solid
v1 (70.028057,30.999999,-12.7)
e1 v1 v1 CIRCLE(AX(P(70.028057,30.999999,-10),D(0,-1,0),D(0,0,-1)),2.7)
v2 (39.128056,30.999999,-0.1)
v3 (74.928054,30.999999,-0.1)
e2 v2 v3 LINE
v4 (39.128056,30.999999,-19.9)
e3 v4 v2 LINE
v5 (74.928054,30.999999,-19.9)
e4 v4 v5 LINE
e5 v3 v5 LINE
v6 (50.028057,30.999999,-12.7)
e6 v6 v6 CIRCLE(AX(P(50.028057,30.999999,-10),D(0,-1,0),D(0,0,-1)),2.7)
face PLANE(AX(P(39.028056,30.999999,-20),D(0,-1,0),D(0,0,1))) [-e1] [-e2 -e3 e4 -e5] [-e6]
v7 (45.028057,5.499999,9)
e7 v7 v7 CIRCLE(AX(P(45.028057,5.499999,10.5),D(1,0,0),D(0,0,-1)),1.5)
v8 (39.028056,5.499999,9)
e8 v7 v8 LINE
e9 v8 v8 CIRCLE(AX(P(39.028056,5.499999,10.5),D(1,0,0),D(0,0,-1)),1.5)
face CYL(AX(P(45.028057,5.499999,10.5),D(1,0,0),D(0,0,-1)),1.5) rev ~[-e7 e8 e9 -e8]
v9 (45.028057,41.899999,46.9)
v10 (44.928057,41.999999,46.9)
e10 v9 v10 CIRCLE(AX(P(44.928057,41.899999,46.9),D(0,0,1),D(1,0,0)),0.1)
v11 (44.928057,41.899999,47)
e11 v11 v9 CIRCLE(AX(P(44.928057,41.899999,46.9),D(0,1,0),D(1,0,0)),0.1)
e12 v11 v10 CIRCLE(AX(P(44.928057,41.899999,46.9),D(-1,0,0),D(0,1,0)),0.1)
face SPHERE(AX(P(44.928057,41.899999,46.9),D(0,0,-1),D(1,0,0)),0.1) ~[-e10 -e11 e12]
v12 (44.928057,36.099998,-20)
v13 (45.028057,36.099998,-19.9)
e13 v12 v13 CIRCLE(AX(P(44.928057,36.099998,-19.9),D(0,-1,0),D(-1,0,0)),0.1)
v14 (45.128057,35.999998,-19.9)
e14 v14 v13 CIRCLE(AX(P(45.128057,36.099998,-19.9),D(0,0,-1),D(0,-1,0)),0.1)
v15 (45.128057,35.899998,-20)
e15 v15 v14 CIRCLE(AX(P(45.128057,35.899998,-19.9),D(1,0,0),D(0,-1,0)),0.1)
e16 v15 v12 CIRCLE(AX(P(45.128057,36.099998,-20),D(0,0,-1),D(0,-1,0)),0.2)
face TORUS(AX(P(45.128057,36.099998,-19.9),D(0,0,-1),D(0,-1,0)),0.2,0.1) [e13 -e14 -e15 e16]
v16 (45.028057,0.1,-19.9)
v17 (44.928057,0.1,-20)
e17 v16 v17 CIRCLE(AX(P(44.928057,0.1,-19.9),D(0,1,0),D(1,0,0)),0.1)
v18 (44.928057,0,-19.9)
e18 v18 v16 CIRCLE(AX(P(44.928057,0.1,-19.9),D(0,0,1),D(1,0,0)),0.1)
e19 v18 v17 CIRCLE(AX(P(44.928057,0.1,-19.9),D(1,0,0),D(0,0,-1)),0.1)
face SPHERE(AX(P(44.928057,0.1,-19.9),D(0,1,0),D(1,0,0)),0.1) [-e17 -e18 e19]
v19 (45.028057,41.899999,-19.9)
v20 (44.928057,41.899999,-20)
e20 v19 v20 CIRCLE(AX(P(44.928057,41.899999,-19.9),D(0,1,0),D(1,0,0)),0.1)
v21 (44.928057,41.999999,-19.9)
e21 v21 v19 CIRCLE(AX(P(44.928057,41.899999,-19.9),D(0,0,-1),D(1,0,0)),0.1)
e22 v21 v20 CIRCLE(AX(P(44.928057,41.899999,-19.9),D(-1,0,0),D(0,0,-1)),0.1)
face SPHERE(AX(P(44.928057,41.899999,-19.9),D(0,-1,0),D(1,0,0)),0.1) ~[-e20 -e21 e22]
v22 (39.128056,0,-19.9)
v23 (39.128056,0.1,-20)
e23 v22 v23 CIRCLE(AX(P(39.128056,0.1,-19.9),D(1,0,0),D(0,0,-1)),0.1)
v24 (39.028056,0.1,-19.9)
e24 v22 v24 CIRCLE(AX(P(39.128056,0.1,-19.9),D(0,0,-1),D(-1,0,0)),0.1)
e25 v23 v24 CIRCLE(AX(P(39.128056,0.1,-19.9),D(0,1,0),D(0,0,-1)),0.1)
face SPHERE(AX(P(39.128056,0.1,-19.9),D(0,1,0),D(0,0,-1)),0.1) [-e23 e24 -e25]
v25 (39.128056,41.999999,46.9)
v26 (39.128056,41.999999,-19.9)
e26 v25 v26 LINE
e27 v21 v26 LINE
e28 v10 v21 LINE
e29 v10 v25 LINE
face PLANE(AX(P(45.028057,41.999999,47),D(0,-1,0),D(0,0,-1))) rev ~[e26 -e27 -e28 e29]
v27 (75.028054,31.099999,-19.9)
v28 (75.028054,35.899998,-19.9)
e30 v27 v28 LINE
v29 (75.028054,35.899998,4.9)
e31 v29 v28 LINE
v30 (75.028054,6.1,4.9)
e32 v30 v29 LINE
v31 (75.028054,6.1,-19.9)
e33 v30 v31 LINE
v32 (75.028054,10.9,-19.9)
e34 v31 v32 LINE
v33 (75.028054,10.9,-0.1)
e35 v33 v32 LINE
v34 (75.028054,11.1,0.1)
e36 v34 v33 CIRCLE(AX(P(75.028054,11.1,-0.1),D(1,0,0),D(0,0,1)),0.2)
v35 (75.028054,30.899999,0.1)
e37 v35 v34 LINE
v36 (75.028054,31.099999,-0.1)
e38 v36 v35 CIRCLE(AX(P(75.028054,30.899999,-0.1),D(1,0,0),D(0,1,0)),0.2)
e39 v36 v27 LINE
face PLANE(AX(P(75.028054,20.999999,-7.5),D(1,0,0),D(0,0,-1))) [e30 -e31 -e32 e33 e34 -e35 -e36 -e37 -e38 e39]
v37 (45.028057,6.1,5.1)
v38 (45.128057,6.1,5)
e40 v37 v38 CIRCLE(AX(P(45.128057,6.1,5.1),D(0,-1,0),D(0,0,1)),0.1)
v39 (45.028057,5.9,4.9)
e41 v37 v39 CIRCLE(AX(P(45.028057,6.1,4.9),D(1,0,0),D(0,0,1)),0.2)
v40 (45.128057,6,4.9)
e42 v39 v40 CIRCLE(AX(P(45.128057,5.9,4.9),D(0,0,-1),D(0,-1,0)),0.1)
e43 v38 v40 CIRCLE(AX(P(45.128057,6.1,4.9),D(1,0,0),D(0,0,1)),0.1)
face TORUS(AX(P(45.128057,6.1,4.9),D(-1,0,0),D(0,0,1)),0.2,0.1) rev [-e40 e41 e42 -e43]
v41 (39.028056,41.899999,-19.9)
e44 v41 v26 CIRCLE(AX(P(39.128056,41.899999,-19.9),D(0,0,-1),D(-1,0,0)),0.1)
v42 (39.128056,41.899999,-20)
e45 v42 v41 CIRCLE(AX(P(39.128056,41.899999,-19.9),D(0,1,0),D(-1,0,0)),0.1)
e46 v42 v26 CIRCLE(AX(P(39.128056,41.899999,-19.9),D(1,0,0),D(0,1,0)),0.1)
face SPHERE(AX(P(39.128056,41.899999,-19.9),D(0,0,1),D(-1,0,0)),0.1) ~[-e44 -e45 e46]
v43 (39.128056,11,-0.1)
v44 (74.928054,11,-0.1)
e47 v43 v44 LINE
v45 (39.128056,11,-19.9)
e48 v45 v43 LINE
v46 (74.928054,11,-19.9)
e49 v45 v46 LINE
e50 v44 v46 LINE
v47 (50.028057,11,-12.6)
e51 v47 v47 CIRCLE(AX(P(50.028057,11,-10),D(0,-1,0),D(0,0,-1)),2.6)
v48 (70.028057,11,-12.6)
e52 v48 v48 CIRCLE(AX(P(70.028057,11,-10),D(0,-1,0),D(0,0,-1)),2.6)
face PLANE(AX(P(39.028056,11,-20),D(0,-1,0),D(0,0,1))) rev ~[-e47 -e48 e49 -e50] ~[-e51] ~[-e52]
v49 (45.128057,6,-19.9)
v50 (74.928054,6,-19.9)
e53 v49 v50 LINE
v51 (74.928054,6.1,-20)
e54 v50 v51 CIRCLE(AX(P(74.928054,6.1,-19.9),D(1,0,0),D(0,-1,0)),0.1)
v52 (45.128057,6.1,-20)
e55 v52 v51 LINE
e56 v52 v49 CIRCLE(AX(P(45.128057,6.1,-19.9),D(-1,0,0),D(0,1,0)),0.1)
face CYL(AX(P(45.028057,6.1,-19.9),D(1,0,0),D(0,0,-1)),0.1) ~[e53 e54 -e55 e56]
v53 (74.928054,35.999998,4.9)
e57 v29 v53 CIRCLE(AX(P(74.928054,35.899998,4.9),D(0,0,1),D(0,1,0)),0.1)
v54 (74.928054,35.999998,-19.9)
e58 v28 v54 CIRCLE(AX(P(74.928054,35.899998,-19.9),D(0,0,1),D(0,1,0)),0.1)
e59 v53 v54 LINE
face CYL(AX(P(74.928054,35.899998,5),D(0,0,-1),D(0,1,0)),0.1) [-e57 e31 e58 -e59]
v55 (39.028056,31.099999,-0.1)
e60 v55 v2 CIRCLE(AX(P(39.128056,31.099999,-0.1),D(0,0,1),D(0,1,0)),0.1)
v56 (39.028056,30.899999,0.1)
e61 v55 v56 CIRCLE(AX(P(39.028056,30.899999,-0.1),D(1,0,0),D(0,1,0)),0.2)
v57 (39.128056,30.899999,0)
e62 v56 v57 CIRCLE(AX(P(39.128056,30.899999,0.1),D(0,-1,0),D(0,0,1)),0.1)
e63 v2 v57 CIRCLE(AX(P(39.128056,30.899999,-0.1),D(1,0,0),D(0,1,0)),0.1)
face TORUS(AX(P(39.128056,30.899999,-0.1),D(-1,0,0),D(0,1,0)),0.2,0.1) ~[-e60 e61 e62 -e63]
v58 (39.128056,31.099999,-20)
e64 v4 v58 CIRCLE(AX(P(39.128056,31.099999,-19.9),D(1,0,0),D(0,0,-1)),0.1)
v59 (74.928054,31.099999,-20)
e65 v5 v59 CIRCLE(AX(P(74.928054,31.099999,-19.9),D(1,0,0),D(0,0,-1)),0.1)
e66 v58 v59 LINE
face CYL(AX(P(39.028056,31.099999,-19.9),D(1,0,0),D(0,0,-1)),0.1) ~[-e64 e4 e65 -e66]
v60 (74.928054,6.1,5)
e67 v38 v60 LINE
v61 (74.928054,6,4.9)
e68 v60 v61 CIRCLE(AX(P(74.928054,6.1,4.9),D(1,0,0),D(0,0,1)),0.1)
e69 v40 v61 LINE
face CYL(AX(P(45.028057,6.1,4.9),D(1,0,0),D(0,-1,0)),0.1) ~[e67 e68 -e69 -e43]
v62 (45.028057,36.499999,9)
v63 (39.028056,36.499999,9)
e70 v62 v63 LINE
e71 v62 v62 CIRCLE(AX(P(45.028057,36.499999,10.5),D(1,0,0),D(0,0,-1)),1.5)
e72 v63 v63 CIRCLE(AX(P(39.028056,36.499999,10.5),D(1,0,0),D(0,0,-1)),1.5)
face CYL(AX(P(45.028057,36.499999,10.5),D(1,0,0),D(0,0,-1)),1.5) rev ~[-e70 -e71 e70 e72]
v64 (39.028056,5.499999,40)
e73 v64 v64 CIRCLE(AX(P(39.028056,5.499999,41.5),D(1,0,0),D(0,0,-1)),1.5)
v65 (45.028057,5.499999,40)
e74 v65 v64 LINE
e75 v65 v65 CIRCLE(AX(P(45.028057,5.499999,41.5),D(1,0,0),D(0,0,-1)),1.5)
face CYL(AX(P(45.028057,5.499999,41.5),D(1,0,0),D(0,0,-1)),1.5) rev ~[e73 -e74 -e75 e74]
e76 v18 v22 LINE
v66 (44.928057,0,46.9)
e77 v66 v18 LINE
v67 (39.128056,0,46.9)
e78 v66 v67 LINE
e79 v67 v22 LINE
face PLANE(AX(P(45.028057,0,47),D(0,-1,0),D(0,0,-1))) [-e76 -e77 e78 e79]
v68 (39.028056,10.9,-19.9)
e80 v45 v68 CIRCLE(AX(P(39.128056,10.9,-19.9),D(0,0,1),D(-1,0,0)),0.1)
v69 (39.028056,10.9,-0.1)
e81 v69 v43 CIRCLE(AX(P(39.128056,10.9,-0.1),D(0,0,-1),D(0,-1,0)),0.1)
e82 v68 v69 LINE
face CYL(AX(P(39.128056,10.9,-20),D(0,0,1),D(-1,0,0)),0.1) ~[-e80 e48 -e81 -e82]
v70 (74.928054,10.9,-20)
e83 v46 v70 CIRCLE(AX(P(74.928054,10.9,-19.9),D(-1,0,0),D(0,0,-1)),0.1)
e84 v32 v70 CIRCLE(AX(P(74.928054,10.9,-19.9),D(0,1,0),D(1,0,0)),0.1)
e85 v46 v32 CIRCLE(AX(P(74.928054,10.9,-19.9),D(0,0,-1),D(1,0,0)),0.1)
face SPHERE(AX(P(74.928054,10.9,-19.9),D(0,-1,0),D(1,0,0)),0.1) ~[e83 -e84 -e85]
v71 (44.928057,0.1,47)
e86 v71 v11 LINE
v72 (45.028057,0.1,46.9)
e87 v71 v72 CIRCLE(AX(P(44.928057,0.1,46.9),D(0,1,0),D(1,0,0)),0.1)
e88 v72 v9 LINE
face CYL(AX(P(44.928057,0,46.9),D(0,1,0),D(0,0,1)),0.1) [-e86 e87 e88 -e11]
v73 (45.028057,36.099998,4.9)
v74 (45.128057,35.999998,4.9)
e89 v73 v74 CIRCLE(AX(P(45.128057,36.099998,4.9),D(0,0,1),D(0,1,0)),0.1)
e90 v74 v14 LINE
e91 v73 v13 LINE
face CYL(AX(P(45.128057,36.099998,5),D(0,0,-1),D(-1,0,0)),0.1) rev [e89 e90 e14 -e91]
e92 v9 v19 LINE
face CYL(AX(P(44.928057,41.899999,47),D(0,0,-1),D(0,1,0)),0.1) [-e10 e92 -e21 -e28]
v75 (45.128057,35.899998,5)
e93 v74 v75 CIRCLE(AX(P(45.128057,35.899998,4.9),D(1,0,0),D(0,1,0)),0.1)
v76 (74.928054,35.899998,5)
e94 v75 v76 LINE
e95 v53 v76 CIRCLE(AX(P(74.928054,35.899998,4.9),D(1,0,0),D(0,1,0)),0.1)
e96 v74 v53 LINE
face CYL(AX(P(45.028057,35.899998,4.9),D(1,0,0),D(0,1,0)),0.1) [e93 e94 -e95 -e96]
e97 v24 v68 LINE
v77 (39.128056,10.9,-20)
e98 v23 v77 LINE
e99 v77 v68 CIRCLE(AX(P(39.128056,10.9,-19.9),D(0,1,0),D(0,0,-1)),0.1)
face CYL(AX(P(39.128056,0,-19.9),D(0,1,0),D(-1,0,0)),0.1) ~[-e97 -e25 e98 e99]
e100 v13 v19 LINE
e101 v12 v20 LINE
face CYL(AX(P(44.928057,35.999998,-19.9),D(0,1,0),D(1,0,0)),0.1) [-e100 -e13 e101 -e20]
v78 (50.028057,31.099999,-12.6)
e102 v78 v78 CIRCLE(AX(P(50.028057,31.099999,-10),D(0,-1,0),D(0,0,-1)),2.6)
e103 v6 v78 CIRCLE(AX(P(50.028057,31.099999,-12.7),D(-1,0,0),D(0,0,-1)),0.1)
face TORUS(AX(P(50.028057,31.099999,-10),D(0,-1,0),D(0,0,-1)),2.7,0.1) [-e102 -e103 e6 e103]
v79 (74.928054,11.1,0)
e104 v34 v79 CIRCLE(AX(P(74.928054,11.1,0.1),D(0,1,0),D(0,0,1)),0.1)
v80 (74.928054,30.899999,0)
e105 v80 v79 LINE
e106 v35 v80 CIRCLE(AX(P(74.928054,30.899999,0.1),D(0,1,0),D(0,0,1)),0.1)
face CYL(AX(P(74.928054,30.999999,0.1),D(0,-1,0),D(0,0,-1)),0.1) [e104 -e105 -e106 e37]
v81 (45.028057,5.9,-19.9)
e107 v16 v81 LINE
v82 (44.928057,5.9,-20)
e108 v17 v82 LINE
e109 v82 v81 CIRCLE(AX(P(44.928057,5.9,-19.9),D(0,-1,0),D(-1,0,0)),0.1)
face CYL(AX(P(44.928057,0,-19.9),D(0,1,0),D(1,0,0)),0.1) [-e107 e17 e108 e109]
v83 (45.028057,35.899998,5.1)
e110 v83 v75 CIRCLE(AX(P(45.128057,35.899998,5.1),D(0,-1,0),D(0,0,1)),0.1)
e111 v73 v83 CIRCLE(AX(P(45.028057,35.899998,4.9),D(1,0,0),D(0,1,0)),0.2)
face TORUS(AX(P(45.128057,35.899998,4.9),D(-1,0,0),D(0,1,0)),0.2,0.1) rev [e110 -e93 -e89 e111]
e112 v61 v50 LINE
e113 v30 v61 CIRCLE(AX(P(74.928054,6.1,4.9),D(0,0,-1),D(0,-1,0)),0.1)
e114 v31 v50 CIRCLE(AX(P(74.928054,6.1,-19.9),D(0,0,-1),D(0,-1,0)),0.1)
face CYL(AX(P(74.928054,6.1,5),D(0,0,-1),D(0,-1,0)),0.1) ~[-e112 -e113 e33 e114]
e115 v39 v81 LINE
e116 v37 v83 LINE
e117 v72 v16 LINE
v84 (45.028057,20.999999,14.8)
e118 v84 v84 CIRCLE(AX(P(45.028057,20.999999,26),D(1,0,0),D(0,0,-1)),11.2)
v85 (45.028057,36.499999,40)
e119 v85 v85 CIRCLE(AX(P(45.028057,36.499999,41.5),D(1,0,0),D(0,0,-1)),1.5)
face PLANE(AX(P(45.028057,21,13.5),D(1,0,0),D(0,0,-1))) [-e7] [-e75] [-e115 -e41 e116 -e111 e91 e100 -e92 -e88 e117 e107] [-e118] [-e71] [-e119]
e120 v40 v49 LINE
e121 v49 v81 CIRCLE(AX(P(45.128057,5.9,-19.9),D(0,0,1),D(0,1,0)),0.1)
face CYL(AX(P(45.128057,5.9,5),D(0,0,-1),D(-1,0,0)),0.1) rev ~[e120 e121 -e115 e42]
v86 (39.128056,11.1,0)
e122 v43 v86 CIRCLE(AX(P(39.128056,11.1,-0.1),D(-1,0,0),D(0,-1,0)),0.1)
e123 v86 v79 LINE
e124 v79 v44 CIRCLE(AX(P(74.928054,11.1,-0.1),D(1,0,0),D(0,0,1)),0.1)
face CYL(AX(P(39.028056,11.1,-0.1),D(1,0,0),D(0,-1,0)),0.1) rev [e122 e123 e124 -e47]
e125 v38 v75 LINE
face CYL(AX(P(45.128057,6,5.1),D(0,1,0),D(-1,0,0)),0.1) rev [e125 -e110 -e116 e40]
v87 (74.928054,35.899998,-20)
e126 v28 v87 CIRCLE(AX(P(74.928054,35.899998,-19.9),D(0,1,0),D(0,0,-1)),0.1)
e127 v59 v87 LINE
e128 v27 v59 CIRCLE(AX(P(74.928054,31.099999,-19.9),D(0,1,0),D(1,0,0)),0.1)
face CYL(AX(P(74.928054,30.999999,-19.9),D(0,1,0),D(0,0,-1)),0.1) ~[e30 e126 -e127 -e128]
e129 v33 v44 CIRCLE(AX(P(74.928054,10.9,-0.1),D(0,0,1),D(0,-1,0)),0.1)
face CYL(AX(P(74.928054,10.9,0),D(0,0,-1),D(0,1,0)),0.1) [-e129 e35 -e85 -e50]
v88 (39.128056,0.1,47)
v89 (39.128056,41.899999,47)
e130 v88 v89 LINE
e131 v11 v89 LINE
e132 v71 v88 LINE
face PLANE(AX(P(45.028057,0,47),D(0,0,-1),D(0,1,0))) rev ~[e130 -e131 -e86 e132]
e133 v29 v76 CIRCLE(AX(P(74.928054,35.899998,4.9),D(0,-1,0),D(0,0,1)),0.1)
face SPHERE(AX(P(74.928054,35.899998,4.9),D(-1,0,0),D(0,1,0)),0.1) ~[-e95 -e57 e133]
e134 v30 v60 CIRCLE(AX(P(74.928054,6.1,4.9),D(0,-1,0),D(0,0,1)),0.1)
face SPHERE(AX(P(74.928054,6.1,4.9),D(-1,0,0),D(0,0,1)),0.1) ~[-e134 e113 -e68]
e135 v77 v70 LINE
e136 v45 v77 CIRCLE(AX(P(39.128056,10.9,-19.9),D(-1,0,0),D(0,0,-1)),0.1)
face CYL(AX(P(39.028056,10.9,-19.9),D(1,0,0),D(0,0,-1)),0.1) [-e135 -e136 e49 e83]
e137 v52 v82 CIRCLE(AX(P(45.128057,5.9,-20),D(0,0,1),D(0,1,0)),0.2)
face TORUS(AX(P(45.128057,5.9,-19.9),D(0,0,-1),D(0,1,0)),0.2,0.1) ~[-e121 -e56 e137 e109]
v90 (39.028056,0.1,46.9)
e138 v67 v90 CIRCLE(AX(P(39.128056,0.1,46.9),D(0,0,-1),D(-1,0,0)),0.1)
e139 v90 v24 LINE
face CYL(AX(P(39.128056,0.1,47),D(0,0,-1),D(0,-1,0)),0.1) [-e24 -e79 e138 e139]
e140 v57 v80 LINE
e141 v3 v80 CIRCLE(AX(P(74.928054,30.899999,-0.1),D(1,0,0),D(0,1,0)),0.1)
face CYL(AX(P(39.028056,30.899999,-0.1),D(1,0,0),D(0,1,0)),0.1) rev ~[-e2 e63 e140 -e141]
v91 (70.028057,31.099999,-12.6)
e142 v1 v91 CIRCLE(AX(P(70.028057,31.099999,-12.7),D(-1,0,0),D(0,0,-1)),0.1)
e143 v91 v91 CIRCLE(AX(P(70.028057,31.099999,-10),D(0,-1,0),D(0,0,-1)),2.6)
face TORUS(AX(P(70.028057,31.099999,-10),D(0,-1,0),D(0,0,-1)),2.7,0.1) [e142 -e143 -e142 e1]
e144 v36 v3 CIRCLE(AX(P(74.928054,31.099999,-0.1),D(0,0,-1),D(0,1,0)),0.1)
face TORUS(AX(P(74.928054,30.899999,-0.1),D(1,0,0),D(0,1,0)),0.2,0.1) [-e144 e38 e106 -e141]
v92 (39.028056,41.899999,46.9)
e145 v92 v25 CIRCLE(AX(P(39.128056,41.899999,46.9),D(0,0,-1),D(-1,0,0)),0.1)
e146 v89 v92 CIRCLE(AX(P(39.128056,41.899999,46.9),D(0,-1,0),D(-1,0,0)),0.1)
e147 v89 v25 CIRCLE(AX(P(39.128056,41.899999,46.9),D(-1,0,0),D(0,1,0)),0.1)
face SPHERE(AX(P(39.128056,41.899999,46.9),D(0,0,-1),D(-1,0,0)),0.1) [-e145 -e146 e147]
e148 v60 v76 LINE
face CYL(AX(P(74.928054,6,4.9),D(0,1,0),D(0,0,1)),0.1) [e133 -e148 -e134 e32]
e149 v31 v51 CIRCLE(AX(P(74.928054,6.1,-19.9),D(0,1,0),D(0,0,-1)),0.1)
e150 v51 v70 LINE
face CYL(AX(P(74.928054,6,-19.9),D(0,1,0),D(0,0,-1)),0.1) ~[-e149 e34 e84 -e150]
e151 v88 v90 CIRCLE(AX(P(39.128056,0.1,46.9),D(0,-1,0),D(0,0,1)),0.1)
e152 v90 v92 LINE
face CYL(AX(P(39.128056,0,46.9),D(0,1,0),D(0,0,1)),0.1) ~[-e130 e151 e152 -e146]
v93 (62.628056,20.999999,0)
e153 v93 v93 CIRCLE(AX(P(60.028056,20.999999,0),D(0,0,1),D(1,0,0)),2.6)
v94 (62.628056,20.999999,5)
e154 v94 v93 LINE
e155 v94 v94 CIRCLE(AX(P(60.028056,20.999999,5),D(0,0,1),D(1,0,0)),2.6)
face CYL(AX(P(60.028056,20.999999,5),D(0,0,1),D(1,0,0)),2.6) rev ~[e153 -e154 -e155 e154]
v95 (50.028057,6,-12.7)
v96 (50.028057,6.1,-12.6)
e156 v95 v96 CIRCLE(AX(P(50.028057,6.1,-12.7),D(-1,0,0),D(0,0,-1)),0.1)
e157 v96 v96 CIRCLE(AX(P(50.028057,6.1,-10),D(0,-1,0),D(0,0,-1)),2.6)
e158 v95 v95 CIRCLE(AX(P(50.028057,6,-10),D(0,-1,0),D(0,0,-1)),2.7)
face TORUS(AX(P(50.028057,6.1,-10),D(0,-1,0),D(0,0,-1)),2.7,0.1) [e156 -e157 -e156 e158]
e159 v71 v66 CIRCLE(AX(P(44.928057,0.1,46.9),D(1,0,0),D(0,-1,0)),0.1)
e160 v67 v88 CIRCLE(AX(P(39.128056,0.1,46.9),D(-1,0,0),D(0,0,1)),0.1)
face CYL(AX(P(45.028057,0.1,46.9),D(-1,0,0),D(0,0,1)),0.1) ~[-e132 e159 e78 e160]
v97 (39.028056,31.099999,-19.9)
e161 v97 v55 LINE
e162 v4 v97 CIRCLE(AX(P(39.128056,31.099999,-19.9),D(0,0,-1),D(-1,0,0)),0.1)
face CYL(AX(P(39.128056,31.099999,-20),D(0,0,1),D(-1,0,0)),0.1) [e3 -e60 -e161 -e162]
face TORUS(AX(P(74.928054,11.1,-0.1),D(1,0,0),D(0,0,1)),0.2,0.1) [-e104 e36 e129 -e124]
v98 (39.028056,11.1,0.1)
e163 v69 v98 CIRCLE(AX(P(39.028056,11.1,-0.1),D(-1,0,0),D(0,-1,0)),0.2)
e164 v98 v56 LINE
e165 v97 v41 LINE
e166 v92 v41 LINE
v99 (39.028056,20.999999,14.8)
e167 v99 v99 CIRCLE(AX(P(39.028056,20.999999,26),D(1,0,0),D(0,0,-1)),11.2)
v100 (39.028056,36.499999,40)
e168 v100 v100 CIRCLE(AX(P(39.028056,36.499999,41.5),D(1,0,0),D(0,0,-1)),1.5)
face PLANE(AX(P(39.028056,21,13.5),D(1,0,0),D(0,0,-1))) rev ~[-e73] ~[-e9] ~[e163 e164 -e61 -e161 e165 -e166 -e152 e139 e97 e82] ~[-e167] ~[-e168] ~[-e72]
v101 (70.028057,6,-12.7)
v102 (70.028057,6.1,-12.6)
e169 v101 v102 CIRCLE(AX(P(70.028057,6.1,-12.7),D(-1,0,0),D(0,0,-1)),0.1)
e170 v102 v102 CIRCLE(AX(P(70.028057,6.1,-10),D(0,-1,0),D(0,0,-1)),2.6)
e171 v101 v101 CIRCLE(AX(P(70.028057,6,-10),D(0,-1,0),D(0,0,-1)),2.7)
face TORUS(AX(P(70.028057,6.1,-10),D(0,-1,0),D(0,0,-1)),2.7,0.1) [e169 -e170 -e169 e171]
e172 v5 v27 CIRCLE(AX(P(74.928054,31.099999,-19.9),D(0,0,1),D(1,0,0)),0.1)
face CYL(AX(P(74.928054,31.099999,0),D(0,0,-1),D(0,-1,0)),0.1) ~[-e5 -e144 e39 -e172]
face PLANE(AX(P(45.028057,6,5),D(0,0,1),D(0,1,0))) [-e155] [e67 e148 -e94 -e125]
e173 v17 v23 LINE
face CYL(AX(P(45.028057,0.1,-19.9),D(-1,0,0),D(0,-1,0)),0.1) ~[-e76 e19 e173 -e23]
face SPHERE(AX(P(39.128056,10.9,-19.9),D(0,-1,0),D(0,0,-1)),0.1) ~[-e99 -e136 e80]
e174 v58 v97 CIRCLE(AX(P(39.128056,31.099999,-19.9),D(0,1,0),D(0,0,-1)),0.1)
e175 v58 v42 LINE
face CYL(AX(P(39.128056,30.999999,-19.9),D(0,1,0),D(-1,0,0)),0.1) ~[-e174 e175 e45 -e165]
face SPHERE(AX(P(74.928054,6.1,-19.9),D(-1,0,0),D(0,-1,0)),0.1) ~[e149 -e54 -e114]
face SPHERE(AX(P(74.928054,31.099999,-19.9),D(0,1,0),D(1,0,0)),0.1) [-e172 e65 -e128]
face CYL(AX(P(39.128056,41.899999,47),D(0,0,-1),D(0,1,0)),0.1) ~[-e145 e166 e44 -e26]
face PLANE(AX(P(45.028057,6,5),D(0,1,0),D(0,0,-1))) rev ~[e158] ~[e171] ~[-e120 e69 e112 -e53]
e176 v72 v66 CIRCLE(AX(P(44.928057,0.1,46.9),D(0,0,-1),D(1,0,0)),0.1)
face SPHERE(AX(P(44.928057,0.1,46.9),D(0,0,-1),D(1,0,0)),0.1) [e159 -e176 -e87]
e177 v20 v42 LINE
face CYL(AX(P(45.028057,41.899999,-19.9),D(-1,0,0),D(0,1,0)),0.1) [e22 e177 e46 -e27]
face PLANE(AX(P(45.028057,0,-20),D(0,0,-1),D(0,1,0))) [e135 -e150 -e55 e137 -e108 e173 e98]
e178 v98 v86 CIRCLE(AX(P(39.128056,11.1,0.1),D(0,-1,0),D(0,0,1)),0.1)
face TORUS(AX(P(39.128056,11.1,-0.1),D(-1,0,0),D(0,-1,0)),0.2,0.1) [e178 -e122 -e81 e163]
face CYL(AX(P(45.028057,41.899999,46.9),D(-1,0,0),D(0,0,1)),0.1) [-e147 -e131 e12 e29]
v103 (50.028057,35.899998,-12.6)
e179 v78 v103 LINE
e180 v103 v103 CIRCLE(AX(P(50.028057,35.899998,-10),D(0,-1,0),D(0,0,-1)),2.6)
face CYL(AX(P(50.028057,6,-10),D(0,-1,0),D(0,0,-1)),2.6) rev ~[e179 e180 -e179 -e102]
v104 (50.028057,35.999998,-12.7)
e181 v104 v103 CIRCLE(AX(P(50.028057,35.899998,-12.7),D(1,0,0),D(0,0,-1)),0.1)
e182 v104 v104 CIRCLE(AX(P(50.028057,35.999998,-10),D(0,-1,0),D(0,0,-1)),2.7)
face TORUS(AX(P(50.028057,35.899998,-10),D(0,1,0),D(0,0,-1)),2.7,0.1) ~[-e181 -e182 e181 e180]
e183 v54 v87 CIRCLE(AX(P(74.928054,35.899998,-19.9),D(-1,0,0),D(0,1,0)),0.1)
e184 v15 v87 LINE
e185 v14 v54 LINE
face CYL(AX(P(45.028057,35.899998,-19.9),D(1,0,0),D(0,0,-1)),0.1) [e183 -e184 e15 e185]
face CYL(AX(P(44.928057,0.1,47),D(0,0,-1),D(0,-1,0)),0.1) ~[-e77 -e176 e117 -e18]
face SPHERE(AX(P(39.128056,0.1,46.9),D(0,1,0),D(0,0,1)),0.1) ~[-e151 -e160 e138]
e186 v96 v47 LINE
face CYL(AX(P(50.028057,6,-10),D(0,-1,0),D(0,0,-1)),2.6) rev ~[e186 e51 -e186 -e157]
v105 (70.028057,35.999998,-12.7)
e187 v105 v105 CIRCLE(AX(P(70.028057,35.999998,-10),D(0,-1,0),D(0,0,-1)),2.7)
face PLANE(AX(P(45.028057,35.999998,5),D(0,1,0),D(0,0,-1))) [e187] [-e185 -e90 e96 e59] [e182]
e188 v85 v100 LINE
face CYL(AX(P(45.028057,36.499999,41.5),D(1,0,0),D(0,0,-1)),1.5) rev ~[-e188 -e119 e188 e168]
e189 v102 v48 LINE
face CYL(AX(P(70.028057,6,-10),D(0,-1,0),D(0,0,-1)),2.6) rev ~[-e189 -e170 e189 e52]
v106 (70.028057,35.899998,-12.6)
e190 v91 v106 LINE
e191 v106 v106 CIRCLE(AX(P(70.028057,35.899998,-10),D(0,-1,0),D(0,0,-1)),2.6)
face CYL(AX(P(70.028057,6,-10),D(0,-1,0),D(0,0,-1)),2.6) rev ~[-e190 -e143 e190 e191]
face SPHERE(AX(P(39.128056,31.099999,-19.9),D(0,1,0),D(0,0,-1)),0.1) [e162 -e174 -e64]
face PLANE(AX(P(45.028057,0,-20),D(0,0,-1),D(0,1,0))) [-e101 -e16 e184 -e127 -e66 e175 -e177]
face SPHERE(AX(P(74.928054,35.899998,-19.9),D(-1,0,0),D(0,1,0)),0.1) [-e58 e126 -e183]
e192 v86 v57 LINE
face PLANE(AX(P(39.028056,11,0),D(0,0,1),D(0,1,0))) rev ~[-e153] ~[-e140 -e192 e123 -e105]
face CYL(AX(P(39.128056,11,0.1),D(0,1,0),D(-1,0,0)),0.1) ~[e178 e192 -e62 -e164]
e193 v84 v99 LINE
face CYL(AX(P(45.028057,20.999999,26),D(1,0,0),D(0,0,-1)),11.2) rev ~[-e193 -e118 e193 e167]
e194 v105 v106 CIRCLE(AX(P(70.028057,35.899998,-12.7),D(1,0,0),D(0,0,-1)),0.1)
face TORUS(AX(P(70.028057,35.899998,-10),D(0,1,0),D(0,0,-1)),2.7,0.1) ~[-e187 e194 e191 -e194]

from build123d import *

# Parameters (mm, degrees)
SKETCH1_W           = 67
SKETCH1_H           = 41.999999434
BOSS_EXTRUDE1_DEPTH = 6.000000983
SKETCH2_W           = 24.999999441
SKETCH2_H           = 29.999998398
BOSS_EXTRUDE2_DEPTH = 29.999997467
SKETCH3_W           = 19.999999553
SKETCH3_H           = 19.999999553
CUT_EXTRUDE1_DEPTH  = 73.587876969
SKETCH14_R          = 11.2
CUT_EXTRUDE12_DEPTH = 10
SKETCH15_R          = 2.6
CUT_EXTRUDE13_DEPTH = 96.573055549
SKETCH18_R          = 1.5
CUT_EXTRUDE14_DEPTH = 70.806875324
SKETCH19_R          = 2.6
CUT_EXTRUDE15_DEPTH = 96.693306709
FILLET1_R           = 0.1


with BuildPart() as part:
    # Sketch1 → Boss-Extrude1 (new body)
    with BuildSketch(Plane(origin=(45.028056949, 0, 0), x_dir=(0, 0, -1), z_dir=(1, 0, 0))):
        with Locations((-13.500000447, 20.999999717)):
            Rectangle(SKETCH1_W, SKETCH1_H)
    extrude(amount=-BOSS_EXTRUDE1_DEPTH)

    # Sketch2 → Boss-Extrude2 (add)
    with BuildSketch(Plane(origin=(45.028056949, 0, 0), x_dir=(0, 0, -1), z_dir=(1, 0, 0))):
        with Locations((7.499999833, 20.999999251)):
            Rectangle(SKETCH2_W, SKETCH2_H)
    extrude(amount=BOSS_EXTRUDE2_DEPTH)

    # Sketch3 → Cut-Extrude1 (cut, through all)
    with BuildSketch(Plane.ZY.offset(-39.028055966)):
        with Locations((-9.999999777, 20.999999716)):
            Rectangle(SKETCH3_W, SKETCH3_H)
    extrude(amount=-CUT_EXTRUDE1_DEPTH, mode=Mode.SUBTRACT)

    # Sketch14 → Cut-Extrude12 (cut)
    with BuildSketch(Plane(origin=(45.028056949, 0, 0), x_dir=(0, 0, -1), z_dir=(1, 0, 0))):
        with Locations((-25.999999888, 20.999999251)):
            Circle(SKETCH14_R)
    extrude(amount=-CUT_EXTRUDE12_DEPTH, mode=Mode.SUBTRACT)

    # Sketch15 → Cut-Extrude13 (cut, through all)
    with BuildSketch(Plane(origin=(0, 6.000000052, 0), x_dir=(-1, 0, 0), z_dir=(0, -1, 0))):
        with Locations(Location((-50.028056949, 9.999999553, 0), (0, 0, 90))):
            Circle(SKETCH15_R)
        with Locations(Location((-70.028056949, 9.999999553, 0), (0, 0, 90))):
            Circle(SKETCH15_R)
    extrude(amount=-CUT_EXTRUDE13_DEPTH, mode=Mode.SUBTRACT)

    # Sketch18 → Cut-Extrude14 (cut, through all)
    with BuildSketch(Plane(origin=(45.028056949, 0, 0), x_dir=(0, 0, -1), z_dir=(1, 0, 0))):
        with Locations((-10.499999888, 36.499999251)):
            Circle(SKETCH18_R)
        with Locations((-10.499999888, 5.499999251)):
            Circle(SKETCH18_R)
        with Locations((-41.499999888, 5.499999251)):
            Circle(SKETCH18_R)
        with Locations((-41.499999888, 36.499999251)):
            Circle(SKETCH18_R)
    extrude(amount=-CUT_EXTRUDE14_DEPTH, mode=Mode.SUBTRACT)

    # Sketch19 → Cut-Extrude15 (cut, through all)
    with BuildSketch(Plane.XY.offset(4.999999888)):
        with Locations((60.028055683, 20.999999251)):
            Circle(SKETCH19_R)
    extrude(amount=-CUT_EXTRUDE15_DEPTH, mode=Mode.SUBTRACT)

    # Fillet1
    fillet1_edges = [part.edges().sort_by_distance(p)[0] for p in [
        (39.028055966, 5.49999997, -19.999999553),
        (45.028056949, 38.999998942, -19.999999553),
        (45.028056949, 35.99999845, -7.499999832),
        (39.028055966, 41.999999434, 13.500000447),
        (60.028055683, 35.99999845, -19.999999553),
        (45.028056949, 20.999999251, 4.999999888),
        (60.028055683, 35.99999845, 4.999999888),
        (45.028056949, 6.000000052, -7.499999832),
        (60.028055683, 6.000000052, 4.999999888),
        (60.028055683, 6.000000052, -19.999999553),
        (75.028054416, 35.99999845, -7.499999832),
        (75.028054416, 20.999999251, 4.999999888),
        (75.028054416, 6.000000052, -7.499999832),
        (75.028054416, 8.499999996, -19.999999553),
        (75.028054416, 33.499998972, -19.999999553),
        (39.028055966, 36.499999464, -19.999999553),
        (75.028054416, 30.999999493, -9.999999776),
        (57.028055191, 30.999999493, -19.999999553),
        (75.028054416, 20.999999717, 0),
        (57.028055191, 30.999999493, 0),
        (75.028054416, 10.99999994, -9.999999776),
        (57.028055191, 10.99999994, 0),
        (57.028055191, 10.99999994, -19.999999553),
        (39.028055966, 30.999999493, -9.999999776),
        (39.028055966, 10.99999994, -9.999999776),
        (39.028055966, 20.999999717, 0),
        (39.028055966, 20.999999717, 47.000000447),
        (45.028056949, 41.999999434, 13.500000447),
        (45.028056949, 3.000000026, -19.999999553),
        (50.028056949, 30.999999493, -7.399999553),
        (50.028056949, 35.99999845, -7.399999553),
        (50.028056949, 6.000000052, -7.399999553),
        (45.028056949, 0, 13.500000447),
        (70.028056949, 30.999999493, -7.399999553),
        (70.028056949, 35.99999845, -7.399999553),
        (70.028056949, 6.000000052, -7.399999553),
        (45.028056949, 20.999999717, 47.000000447),
        (42.028056458, 41.999999434, 47.000000447),
        (42.028056458, 41.999999434, -19.999999553),
        (42.028056458, 0, -19.999999553),
        (42.028056458, 0, 47.000000447),
        (39.028055966, 0, 13.500000447),
    ]]
    fillet(fillet1_edges, radius=FILLET1_R)


solid = part.part
